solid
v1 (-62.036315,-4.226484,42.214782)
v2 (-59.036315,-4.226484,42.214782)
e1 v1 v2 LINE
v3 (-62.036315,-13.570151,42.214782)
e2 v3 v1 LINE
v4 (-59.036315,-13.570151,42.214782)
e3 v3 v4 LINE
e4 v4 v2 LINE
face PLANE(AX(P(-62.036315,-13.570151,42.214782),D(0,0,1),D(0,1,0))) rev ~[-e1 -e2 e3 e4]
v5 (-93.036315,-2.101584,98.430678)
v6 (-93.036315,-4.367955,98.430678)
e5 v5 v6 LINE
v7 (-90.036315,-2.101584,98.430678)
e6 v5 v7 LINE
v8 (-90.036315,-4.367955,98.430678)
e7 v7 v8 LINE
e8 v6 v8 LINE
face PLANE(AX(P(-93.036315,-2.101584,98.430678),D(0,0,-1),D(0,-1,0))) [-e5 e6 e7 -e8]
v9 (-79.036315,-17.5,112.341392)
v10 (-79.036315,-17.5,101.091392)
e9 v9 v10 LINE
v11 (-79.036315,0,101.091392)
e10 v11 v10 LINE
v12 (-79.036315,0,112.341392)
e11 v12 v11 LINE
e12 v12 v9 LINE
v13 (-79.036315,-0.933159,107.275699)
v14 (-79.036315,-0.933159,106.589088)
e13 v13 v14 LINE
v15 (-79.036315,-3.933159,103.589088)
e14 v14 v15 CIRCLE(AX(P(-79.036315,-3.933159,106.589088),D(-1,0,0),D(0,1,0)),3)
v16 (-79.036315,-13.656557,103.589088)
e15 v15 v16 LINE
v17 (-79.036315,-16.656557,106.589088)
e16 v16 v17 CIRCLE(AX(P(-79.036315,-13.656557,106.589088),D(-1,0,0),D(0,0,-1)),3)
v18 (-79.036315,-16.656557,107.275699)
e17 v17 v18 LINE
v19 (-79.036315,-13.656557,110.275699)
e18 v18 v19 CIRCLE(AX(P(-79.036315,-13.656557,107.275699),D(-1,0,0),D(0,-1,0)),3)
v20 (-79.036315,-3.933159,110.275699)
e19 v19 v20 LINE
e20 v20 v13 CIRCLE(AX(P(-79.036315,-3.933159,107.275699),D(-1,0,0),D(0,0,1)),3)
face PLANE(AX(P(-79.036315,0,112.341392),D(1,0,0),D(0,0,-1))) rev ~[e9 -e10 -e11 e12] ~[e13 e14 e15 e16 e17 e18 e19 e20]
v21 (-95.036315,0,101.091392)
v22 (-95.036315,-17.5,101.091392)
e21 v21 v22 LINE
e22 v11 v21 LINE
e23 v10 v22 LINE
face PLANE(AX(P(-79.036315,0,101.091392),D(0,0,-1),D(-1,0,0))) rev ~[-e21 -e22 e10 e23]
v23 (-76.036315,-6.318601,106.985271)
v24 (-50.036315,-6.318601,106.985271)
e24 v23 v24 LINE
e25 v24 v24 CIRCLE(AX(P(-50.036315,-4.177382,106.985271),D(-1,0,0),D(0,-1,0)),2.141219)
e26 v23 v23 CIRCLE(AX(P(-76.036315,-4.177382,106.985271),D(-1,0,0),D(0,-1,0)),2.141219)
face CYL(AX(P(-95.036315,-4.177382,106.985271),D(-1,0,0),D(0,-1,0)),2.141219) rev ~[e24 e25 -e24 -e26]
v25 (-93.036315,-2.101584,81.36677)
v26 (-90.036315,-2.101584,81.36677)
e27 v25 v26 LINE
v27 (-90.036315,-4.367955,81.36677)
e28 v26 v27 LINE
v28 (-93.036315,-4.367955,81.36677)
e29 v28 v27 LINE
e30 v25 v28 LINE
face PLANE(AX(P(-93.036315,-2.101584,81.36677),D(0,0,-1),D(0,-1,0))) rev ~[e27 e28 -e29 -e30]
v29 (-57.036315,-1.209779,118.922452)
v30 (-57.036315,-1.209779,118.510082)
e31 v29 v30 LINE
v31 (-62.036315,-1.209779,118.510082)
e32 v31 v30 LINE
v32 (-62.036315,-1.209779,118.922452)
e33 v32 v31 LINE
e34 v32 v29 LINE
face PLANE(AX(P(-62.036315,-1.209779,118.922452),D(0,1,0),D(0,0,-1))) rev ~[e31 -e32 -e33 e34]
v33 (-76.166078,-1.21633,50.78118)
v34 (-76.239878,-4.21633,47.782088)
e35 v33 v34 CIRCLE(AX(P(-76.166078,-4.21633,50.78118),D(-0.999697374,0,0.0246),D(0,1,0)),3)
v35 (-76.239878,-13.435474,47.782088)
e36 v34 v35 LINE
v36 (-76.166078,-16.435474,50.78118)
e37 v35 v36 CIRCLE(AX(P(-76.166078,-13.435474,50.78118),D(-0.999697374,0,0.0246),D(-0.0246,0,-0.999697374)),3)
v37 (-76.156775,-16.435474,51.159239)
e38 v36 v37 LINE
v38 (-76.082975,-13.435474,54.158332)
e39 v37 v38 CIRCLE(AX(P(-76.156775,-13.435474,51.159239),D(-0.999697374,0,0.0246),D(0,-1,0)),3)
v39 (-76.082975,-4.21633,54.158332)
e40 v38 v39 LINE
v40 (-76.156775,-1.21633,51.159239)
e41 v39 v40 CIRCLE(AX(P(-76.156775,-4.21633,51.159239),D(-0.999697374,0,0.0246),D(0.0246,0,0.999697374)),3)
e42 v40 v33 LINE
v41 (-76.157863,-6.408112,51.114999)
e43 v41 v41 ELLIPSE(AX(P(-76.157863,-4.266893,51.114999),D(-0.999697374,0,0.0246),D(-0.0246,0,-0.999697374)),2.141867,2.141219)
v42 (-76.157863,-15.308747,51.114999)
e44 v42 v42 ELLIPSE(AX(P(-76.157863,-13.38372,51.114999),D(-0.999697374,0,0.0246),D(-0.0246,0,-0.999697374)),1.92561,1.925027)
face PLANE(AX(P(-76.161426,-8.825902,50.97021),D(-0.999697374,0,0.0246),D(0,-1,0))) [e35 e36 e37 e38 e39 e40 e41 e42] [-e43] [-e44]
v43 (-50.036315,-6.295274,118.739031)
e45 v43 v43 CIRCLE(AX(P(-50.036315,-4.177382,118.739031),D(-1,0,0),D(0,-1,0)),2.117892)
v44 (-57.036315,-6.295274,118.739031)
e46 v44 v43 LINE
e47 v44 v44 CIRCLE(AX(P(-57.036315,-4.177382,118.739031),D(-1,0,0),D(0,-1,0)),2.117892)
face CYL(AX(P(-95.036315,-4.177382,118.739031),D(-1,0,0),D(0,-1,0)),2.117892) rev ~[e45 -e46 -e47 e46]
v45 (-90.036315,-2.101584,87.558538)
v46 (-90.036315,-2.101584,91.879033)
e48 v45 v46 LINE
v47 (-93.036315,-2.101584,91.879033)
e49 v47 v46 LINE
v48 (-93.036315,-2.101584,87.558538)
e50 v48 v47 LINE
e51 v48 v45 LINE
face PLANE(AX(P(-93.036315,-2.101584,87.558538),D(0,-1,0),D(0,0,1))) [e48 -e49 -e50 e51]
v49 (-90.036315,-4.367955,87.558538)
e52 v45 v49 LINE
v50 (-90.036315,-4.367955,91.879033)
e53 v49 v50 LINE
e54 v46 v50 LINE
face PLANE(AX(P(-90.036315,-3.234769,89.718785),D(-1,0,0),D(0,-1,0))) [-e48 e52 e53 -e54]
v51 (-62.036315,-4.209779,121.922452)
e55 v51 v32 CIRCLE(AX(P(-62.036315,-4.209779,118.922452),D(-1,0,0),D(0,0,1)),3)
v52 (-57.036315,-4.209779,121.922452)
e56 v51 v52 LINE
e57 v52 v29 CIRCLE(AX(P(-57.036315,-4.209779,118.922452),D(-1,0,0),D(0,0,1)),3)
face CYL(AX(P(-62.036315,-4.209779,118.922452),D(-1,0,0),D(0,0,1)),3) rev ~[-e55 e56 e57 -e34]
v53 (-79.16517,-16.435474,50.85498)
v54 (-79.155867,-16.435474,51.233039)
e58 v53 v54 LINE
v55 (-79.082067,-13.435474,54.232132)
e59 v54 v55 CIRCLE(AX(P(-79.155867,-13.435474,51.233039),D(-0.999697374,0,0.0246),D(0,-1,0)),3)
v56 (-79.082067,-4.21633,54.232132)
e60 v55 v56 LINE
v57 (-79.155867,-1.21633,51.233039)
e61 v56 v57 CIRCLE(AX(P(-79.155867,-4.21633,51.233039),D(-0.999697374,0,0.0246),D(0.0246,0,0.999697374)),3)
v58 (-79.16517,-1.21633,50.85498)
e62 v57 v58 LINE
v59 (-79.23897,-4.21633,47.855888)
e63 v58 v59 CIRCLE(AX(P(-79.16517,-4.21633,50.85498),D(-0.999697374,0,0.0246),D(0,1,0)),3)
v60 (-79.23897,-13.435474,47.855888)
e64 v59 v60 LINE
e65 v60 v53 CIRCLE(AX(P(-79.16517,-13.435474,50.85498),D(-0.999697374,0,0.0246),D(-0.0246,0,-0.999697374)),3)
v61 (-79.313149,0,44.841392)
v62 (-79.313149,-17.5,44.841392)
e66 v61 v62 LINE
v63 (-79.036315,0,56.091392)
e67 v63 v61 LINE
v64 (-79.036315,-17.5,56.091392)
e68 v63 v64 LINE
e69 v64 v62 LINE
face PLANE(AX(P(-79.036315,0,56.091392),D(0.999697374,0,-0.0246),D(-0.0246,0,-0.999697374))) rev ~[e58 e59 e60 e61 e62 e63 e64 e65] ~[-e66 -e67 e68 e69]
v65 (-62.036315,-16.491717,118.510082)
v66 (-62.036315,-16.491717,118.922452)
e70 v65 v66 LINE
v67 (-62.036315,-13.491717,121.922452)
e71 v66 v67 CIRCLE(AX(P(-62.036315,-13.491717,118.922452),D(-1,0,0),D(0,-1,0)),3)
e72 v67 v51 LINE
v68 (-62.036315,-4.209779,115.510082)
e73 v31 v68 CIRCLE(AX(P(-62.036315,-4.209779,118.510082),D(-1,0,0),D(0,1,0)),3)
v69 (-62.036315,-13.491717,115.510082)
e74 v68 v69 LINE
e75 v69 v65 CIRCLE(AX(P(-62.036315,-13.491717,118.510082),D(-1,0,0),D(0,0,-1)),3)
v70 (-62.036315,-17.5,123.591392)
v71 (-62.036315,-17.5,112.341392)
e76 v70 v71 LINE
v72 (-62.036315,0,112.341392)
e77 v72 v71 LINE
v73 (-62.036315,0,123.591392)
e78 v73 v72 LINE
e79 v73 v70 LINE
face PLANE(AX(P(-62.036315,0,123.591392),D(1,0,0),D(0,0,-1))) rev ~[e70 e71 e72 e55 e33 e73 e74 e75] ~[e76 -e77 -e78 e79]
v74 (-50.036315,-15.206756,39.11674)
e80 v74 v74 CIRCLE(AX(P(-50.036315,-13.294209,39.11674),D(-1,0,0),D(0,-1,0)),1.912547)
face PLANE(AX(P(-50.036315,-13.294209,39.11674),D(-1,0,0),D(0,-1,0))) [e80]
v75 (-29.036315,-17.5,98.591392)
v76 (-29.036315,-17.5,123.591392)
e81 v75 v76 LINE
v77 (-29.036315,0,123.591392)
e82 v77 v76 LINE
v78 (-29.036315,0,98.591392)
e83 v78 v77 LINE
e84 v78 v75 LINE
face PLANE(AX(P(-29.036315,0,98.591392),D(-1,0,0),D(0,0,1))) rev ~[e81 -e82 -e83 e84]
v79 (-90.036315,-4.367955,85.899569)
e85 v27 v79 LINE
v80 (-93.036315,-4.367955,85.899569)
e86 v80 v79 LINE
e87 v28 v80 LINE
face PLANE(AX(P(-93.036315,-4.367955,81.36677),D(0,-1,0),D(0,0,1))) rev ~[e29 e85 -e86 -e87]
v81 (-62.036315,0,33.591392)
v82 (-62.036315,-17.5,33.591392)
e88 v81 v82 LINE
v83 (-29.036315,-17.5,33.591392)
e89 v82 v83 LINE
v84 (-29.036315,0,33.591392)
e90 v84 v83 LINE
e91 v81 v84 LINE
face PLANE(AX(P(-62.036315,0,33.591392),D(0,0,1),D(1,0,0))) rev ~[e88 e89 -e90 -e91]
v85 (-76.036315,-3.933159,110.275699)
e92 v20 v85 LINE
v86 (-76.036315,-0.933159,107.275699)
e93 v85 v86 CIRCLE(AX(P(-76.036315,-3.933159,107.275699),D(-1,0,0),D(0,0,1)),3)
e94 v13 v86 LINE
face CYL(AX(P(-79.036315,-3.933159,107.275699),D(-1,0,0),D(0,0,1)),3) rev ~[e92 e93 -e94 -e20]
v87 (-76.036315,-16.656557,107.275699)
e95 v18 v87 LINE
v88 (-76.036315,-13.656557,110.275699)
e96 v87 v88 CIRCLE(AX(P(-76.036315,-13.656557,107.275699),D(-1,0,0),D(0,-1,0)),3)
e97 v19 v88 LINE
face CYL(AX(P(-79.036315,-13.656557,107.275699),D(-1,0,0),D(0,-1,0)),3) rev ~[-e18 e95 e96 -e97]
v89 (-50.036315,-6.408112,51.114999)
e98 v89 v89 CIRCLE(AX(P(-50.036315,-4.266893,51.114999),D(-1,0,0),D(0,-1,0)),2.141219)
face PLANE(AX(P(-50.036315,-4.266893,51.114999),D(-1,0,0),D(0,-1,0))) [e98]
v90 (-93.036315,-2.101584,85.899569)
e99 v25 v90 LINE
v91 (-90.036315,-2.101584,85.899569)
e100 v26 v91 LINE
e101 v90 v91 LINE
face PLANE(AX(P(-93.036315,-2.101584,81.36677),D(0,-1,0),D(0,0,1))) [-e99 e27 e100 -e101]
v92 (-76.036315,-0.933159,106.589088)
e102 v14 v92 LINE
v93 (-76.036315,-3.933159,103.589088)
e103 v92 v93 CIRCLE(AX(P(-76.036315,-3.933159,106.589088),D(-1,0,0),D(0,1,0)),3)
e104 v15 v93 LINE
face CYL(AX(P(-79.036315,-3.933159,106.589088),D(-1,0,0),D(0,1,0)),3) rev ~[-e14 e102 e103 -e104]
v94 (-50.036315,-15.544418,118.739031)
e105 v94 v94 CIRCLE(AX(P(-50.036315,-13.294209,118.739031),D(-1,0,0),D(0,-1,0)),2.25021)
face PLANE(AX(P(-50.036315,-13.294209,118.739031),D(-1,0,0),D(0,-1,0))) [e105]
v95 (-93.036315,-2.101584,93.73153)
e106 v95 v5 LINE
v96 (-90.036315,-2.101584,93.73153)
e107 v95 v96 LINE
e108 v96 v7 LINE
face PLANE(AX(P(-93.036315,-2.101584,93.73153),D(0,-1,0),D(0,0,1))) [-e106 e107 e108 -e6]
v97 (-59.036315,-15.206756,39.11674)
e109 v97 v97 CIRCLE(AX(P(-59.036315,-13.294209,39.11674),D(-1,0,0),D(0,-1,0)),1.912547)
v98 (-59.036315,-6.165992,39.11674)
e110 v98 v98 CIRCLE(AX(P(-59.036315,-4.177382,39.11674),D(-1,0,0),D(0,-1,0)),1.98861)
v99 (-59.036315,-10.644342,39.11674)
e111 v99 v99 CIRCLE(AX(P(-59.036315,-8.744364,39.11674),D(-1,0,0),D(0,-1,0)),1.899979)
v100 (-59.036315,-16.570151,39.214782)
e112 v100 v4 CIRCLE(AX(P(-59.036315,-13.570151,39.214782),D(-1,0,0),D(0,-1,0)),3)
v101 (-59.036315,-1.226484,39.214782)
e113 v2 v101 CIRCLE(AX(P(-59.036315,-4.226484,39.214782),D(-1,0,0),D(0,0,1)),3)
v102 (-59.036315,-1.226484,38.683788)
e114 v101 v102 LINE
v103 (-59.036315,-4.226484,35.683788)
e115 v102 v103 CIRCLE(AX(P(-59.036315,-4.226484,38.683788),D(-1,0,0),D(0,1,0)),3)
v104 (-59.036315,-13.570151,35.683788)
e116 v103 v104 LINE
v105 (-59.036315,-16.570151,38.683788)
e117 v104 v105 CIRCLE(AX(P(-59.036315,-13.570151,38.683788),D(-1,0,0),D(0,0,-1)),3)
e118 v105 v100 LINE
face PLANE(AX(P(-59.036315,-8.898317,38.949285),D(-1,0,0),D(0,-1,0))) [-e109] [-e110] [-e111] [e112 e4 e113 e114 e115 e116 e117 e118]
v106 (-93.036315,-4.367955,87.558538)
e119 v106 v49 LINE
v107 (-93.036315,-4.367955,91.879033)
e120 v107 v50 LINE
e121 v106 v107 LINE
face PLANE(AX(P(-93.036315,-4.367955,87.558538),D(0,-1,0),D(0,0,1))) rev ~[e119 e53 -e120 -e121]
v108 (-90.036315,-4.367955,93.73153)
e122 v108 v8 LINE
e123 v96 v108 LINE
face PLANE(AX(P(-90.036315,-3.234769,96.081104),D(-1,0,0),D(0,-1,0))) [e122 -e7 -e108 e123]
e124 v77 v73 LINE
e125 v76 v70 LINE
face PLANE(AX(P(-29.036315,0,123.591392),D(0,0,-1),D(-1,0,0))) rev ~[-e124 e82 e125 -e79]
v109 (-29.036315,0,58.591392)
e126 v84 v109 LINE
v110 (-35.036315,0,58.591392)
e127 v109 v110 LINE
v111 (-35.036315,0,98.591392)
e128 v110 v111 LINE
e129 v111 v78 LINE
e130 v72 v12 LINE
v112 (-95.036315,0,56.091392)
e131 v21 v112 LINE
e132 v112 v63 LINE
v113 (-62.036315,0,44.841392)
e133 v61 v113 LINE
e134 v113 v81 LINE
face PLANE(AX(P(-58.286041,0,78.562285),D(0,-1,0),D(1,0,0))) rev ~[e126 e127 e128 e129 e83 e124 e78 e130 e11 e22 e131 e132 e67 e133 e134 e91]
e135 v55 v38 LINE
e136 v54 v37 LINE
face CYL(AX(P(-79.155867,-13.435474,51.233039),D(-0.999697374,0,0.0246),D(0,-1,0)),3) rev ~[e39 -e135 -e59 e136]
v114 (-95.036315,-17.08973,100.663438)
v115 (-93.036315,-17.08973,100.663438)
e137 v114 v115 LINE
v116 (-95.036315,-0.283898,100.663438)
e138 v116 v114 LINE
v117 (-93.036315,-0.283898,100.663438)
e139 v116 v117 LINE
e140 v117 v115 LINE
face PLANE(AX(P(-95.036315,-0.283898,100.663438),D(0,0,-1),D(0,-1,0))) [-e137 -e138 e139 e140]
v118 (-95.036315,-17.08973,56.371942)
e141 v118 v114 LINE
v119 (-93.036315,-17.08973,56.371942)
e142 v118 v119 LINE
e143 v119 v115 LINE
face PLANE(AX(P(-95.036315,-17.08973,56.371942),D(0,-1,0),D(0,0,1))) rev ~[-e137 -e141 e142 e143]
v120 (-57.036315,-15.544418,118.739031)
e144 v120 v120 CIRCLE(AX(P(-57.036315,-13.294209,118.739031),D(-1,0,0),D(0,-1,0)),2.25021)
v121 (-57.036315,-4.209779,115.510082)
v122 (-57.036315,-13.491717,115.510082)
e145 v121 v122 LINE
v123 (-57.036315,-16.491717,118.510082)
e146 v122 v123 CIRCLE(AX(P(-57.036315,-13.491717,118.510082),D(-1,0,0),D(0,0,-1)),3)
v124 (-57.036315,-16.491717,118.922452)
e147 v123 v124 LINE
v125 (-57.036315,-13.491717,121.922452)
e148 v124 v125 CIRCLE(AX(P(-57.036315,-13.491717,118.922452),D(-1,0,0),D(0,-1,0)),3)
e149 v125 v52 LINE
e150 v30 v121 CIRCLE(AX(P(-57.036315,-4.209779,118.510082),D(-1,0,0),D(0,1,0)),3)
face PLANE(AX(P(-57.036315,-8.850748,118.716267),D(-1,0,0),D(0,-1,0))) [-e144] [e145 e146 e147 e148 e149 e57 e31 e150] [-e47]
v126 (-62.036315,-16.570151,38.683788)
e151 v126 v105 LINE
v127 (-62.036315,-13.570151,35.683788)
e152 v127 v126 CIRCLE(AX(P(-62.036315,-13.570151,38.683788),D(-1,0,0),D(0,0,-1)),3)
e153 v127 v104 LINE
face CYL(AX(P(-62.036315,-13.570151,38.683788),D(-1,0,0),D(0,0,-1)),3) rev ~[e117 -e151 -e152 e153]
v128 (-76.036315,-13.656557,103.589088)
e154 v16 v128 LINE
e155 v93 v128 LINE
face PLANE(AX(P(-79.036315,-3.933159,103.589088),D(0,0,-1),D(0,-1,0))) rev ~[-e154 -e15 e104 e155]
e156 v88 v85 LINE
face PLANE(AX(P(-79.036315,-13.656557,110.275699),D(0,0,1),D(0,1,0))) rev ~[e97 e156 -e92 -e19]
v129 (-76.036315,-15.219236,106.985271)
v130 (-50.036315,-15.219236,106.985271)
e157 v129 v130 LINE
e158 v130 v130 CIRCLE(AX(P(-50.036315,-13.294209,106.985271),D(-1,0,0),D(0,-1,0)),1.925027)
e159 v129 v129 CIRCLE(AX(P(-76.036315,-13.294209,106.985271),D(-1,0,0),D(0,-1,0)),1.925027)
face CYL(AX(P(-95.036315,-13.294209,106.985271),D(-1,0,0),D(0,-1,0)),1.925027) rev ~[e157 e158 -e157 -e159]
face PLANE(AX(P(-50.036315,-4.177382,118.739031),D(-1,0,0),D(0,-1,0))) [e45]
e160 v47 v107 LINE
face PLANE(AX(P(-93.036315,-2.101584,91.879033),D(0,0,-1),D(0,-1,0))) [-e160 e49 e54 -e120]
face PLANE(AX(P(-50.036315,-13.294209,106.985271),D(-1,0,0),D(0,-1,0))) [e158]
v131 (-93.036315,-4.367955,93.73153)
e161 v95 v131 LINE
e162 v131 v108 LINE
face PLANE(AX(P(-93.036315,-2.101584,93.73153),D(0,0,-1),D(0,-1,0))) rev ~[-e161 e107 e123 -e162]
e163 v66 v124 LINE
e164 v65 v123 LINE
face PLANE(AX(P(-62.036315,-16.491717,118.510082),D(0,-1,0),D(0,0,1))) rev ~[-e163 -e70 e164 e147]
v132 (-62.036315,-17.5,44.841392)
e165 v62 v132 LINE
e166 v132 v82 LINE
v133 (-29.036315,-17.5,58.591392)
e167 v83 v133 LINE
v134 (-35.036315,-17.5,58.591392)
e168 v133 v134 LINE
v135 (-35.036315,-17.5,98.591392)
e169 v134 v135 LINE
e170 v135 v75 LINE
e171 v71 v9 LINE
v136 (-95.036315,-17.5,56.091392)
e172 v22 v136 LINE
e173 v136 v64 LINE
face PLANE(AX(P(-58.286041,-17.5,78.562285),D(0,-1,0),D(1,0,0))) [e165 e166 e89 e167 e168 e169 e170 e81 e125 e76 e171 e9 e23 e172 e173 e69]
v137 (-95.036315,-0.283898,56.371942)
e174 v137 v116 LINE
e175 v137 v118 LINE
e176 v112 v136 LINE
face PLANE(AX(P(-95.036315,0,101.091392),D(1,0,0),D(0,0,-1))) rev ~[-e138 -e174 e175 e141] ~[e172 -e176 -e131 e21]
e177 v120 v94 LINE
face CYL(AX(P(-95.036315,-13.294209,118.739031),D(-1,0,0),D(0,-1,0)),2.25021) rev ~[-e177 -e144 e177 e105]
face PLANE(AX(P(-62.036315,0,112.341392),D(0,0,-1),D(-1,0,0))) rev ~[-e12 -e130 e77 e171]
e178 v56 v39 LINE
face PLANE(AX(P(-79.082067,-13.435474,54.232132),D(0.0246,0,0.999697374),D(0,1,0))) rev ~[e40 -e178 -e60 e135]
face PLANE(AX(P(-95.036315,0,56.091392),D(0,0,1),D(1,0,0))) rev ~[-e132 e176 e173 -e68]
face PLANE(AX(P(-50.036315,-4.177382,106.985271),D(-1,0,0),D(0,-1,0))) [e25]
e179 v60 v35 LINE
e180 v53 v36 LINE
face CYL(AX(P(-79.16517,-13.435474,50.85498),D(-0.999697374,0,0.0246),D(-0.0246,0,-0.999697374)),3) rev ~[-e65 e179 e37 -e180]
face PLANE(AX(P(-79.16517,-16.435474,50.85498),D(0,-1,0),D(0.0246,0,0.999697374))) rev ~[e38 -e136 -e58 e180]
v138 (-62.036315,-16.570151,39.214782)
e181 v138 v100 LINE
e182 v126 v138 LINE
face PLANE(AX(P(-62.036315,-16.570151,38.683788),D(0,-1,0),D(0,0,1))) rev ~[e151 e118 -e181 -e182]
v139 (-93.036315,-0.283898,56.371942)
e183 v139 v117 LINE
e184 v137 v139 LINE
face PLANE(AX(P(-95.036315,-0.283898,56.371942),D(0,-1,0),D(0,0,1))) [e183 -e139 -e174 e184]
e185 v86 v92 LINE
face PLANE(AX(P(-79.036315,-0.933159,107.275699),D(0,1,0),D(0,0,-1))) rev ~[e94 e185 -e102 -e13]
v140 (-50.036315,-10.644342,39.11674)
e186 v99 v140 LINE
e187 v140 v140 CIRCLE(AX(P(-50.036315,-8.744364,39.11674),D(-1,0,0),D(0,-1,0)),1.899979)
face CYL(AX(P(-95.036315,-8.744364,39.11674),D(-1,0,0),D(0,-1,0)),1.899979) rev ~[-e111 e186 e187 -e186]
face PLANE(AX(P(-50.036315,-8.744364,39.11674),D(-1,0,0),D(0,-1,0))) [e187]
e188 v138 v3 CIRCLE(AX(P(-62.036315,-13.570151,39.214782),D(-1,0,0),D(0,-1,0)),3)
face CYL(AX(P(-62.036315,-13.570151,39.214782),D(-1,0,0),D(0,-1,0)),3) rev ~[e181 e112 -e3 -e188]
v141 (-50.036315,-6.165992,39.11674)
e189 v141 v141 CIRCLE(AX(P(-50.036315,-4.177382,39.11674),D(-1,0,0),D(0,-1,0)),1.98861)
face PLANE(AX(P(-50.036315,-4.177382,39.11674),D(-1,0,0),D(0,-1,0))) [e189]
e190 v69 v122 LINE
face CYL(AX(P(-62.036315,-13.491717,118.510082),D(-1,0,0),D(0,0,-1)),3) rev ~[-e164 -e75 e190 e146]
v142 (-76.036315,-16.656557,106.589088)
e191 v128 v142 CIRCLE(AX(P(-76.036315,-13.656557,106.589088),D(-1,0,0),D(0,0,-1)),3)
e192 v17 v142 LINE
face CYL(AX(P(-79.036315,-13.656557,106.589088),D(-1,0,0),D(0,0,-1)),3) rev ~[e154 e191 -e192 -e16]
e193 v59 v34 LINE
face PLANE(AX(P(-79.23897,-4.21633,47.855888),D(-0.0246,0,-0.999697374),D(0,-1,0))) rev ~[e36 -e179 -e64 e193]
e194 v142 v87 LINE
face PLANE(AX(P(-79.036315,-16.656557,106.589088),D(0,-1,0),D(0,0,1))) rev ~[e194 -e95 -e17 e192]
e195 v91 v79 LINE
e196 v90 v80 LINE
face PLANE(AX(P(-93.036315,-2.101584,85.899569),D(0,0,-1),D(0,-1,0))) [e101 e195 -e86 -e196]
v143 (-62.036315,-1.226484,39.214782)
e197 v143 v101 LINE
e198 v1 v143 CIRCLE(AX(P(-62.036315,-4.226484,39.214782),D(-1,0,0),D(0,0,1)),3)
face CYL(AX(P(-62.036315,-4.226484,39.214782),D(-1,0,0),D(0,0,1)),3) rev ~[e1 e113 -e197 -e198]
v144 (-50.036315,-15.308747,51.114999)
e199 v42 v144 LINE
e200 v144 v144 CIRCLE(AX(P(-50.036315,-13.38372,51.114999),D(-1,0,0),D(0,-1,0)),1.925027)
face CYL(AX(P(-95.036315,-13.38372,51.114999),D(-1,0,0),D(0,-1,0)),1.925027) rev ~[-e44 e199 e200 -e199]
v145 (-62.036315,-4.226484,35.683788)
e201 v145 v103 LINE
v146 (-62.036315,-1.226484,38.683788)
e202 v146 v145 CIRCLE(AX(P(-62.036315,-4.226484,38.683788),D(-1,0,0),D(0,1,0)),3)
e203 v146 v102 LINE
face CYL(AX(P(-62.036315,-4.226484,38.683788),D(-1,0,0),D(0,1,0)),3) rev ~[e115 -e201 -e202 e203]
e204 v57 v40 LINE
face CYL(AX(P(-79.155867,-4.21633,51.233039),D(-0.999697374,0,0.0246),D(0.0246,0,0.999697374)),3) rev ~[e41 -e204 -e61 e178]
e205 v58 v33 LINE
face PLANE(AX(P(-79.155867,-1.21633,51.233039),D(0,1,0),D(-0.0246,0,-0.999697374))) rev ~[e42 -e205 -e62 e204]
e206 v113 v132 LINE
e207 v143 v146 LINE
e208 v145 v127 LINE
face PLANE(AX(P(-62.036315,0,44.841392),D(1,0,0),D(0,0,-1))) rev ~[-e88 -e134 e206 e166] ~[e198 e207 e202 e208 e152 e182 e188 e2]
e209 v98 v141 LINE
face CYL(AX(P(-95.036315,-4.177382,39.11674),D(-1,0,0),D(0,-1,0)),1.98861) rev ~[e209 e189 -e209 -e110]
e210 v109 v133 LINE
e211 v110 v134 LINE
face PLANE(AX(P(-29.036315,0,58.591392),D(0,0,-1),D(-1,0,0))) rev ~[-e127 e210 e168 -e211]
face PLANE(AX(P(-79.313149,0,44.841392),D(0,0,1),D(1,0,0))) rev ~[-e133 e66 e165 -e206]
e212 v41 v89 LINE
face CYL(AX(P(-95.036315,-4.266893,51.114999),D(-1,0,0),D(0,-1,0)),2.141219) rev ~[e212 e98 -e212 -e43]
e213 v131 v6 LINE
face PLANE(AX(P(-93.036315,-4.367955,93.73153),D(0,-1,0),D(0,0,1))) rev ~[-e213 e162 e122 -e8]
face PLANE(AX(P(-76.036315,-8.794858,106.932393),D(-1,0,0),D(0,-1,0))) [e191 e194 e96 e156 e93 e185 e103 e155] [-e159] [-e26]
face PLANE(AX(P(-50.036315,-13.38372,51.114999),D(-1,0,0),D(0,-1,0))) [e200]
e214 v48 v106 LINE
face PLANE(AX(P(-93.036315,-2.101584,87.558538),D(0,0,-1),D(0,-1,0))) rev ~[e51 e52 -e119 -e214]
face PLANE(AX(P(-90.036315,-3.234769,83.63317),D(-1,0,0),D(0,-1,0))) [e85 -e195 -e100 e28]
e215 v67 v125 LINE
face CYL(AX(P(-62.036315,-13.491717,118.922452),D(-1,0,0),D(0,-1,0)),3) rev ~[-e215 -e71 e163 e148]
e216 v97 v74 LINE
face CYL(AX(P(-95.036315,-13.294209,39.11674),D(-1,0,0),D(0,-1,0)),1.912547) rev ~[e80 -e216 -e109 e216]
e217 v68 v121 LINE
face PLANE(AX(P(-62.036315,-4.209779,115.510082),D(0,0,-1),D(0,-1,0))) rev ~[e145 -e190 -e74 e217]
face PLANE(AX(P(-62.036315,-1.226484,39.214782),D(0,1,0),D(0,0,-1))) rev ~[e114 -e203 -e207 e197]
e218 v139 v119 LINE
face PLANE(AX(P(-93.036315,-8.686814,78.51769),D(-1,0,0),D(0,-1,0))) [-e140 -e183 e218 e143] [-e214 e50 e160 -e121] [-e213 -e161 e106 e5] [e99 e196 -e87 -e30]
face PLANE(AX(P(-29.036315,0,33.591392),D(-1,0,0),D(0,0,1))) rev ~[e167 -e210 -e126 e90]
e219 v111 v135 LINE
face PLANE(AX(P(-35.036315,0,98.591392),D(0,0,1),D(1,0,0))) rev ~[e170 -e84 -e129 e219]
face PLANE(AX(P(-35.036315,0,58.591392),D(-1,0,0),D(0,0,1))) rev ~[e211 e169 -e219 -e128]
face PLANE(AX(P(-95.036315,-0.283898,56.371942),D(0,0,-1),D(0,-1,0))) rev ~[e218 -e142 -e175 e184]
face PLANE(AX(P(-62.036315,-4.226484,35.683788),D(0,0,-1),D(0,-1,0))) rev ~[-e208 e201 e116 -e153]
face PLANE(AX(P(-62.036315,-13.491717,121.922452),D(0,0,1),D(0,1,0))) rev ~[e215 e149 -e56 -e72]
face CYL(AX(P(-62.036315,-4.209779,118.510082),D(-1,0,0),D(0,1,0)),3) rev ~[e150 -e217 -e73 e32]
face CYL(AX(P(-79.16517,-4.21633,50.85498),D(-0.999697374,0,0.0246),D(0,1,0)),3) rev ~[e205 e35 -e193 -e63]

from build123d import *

# Parameters (mm, degrees)
F1_DEPTH  = 17.5
F4_DEPTH  = 5
F6_DEPTH  = 3
F8_DEPTH  = 3
F9_W      = 16.8058317795
F9_H      = 44.2914962769
F10_DEPTH = 2
F2_R      = 2.117891982
F2_R_2    = 2.2502095604
F2_R_3    = 2.1412189154
F2_R_4    = 1.9250274961
F2_R_5    = 1.9886102938
F2_R_6    = 1.8999785502
F2_R_7    = 1.9125474789
F11_DEPTH = 45
F13_DEPTH = 3
F14_W     = 2.2663704585
F14_H     = 4.6991482377
F14_H_2   = 4.3204948306
F14_H_3   = 4.5327991247
F15_DEPTH = 3


with BuildPart() as f1:
    # F0 (on Front) → F1 (new body)
    with BuildSketch(Plane.XZ):
        Polygon((-29.036315158, 123.5913918912), (-62.036315158, 123.5913918912), (-62.036315158, 112.3413918912), (-79.036315158, 112.3413918912), (-79.036315158, 101.0913918912), (-95.036315158, 101.0913918912), (-95.036315158, 56.0913918912), (-79.036315158, 56.0913918912), (-79.3131489307, 44.8413918912), (-62.036315158, 44.8413918912), (-62.036315158, 33.5913918912), (-29.036315158, 33.5913918912), (-29.036315158, 58.5913918912), (-35.036315158, 58.5913918912), (-35.036315158, 98.5913918912), (-29.036315158, 98.5913918912), align=None)
    extrude(amount=F1_DEPTH)

    # F3 (on face) → F4 (cut)
    with BuildSketch(Plane(origin=(-62.036315158, 0, 0), x_dir=(0, -1, 0), z_dir=(-1, 0, 0))):
        with BuildLine():
            Line((13.4917167276, 121.9224523306), (4.209778944, 121.9224523306))
            ThreePointArc((4.209778944, 121.9224523306), (2.0884586005, 121.0437726741), (1.209778944, 118.9224523306))
            Line((1.209778944, 118.9224523306), (1.209778944, 118.5100823641))
            ThreePointArc((1.209778944, 118.5100823641), (2.0884586005, 116.3887620205), (4.209778944, 115.5100823641))
            Line((4.209778944, 115.5100823641), (13.4917167276, 115.5100823641))
            ThreePointArc((13.4917167276, 115.5100823641), (15.6130370712, 116.3887620205), (16.4917167276, 118.5100823641))
            Line((16.4917167276, 118.5100823641), (16.4917167276, 118.9224523306))
            ThreePointArc((16.4917167276, 118.9224523306), (15.6130370712, 121.0437726741), (13.4917167276, 121.9224523306))
        make_face()
    extrude(amount=-F4_DEPTH, mode=Mode.SUBTRACT)

    # F5 (on face) → F6 (cut)
    with BuildSketch(Plane(origin=(-79.036315158, 0, 0), x_dir=(0, -1, 0), z_dir=(-1, 0, 0))):
        with BuildLine():
            Line((13.656557098, 110.2756986618), (3.9331587353, 110.2756986618))
            ThreePointArc((3.9331587353, 110.2756986618), (1.8118383917, 109.3970190054), (0.9331587353, 107.2756986618))
            Line((0.9331587353, 107.2756986618), (0.9331587353, 106.5890877247))
            ThreePointArc((0.9331587353, 106.5890877247), (1.8118383917, 104.4677673811), (3.9331587353, 103.5890877247))
            Line((3.9331587353, 103.5890877247), (13.656557098, 103.5890877247))
            ThreePointArc((13.656557098, 103.5890877247), (15.7778774416, 104.4677673811), (16.656557098, 106.5890877247))
            Line((16.656557098, 106.5890877247), (16.656557098, 107.2756986618))
            ThreePointArc((16.656557098, 107.2756986618), (15.7778774416, 109.3970190054), (13.656557098, 110.2756986618))
        make_face()
    extrude(amount=-F6_DEPTH, mode=Mode.SUBTRACT)

    # F7 (on face) → F8 (cut)
    with BuildSketch(Plane(origin=(-62.036315158, 0, 0), x_dir=(0, -1, 0), z_dir=(-1, 0, 0))):
        with BuildLine():
            ThreePointArc((1.2264838442, 38.6837883592), (2.1051635007, 36.5624680156), (4.2264838442, 35.6837883592))
            Line((4.2264838442, 35.6837883592), (13.5701508522, 35.6837883592))
            ThreePointArc((13.5701508522, 35.6837883592), (15.6914711958, 36.5624680156), (16.5701508522, 38.6837883592))
            Line((16.5701508522, 38.6837883592), (16.5701508522, 39.2147824168))
            ThreePointArc((16.5701508522, 39.2147824168), (15.6914711958, 41.3361027604), (13.5701508522, 42.2147824168))
            Line((13.5701508522, 42.2147824168), (4.2264838442, 42.2147824168))
            ThreePointArc((4.2264838442, 42.2147824168), (2.1051635007, 41.3361027604), (1.2264838442, 39.2147824168))
            Line((1.2264838442, 39.2147824168), (1.2264838442, 38.6837883592))
        make_face()
    extrude(amount=-F8_DEPTH, mode=Mode.SUBTRACT)

    # F9 (on face) → F10 (cut)
    with BuildSketch(Plane(origin=(-95.036315158, 0, 0), x_dir=(0, -1, 0), z_dir=(-1, 0, 0))):
        with Locations((8.6868142389, 78.5176903009)):
            Rectangle(F9_W, F9_H)
    extrude(amount=-F10_DEPTH, mode=Mode.SUBTRACT)

    # F2 (on face) → F11 (cut)
    with BuildSketch(Plane(origin=(-95.036315158, 0, 0), x_dir=(0, -1, 0), z_dir=(-1, 0, 0))):
        with Locations((4.1773817502, 118.7390312552)):
            Circle(F2_R)
        with Locations((13.2942087948, 118.7390312552)):
            Circle(F2_R_2)
        with Locations((4.1773817502, 106.985270977)):
            Circle(F2_R_3)
        with Locations((13.2942087948, 106.985270977)):
            Circle(F2_R_4)
        with Locations((4.2668927927, 51.1149987578)):
            Circle(F2_R_3)
        with Locations((13.3837198373, 51.1149987578)):
            Circle(F2_R_4)
        with Locations((4.1773817502, 39.1167402267)):
            Circle(F2_R_5)
        with Locations((8.744363673, 39.1167402267)):
            Circle(F2_R_6)
        with Locations((13.2942087948, 39.1167402267)):
            Circle(F2_R_7)
    extrude(amount=-F11_DEPTH, mode=Mode.SUBTRACT)

    # F12 (on face) → F13 (cut)
    with BuildSketch(Plane(origin=(-80.3679161841, 0, 1.9776491945), x_dir=(0, -1, 0), z_dir=(-0.9996973742, 0, 0.0245999996))):
        with BuildLine():
            ThreePointArc((16.4354741573, 49.2703006864), (15.5567945009, 51.3916210299), (13.4354741573, 52.2703006864))
            Line((13.4354741573, 52.2703006864), (4.2163297506, 52.2703006864))
            ThreePointArc((4.2163297506, 52.2703006864), (2.095009407, 51.3916210299), (1.2163297506, 49.2703006864))
            Line((1.2163297506, 49.2703006864), (1.2163297506, 48.8921268582))
            ThreePointArc((1.2163297506, 48.8921268582), (2.095009407, 46.7708065147), (4.2163297506, 45.8921268582))
            Line((4.2163297506, 45.8921268582), (13.4354741573, 45.8921268582))
            ThreePointArc((13.4354741573, 45.8921268582), (15.5567945009, 46.7708065147), (16.4354741573, 48.8921268582))
            Line((16.4354741573, 48.8921268582), (16.4354741573, 49.2703006864))
        make_face()
    extrude(amount=-F13_DEPTH, mode=Mode.SUBTRACT)

    # F14 (on face) → F15 (cut)
    with BuildSketch(Plane(origin=(-93.036315158, 0, 0), x_dir=(0, -1, 0), z_dir=(-1, 0, 0))):
        with Locations((3.2347693341, 96.0811041296)):
            Rectangle(F14_W, F14_H)
        with Locations((3.2347693341, 89.7187851369)):
            Rectangle(F14_W, F14_H_2)
        with Locations((3.2347693341, 83.6331695318)):
            Rectangle(F14_W, F14_H_3)
    extrude(amount=-F15_DEPTH, mode=Mode.SUBTRACT)


solid = f1.part
